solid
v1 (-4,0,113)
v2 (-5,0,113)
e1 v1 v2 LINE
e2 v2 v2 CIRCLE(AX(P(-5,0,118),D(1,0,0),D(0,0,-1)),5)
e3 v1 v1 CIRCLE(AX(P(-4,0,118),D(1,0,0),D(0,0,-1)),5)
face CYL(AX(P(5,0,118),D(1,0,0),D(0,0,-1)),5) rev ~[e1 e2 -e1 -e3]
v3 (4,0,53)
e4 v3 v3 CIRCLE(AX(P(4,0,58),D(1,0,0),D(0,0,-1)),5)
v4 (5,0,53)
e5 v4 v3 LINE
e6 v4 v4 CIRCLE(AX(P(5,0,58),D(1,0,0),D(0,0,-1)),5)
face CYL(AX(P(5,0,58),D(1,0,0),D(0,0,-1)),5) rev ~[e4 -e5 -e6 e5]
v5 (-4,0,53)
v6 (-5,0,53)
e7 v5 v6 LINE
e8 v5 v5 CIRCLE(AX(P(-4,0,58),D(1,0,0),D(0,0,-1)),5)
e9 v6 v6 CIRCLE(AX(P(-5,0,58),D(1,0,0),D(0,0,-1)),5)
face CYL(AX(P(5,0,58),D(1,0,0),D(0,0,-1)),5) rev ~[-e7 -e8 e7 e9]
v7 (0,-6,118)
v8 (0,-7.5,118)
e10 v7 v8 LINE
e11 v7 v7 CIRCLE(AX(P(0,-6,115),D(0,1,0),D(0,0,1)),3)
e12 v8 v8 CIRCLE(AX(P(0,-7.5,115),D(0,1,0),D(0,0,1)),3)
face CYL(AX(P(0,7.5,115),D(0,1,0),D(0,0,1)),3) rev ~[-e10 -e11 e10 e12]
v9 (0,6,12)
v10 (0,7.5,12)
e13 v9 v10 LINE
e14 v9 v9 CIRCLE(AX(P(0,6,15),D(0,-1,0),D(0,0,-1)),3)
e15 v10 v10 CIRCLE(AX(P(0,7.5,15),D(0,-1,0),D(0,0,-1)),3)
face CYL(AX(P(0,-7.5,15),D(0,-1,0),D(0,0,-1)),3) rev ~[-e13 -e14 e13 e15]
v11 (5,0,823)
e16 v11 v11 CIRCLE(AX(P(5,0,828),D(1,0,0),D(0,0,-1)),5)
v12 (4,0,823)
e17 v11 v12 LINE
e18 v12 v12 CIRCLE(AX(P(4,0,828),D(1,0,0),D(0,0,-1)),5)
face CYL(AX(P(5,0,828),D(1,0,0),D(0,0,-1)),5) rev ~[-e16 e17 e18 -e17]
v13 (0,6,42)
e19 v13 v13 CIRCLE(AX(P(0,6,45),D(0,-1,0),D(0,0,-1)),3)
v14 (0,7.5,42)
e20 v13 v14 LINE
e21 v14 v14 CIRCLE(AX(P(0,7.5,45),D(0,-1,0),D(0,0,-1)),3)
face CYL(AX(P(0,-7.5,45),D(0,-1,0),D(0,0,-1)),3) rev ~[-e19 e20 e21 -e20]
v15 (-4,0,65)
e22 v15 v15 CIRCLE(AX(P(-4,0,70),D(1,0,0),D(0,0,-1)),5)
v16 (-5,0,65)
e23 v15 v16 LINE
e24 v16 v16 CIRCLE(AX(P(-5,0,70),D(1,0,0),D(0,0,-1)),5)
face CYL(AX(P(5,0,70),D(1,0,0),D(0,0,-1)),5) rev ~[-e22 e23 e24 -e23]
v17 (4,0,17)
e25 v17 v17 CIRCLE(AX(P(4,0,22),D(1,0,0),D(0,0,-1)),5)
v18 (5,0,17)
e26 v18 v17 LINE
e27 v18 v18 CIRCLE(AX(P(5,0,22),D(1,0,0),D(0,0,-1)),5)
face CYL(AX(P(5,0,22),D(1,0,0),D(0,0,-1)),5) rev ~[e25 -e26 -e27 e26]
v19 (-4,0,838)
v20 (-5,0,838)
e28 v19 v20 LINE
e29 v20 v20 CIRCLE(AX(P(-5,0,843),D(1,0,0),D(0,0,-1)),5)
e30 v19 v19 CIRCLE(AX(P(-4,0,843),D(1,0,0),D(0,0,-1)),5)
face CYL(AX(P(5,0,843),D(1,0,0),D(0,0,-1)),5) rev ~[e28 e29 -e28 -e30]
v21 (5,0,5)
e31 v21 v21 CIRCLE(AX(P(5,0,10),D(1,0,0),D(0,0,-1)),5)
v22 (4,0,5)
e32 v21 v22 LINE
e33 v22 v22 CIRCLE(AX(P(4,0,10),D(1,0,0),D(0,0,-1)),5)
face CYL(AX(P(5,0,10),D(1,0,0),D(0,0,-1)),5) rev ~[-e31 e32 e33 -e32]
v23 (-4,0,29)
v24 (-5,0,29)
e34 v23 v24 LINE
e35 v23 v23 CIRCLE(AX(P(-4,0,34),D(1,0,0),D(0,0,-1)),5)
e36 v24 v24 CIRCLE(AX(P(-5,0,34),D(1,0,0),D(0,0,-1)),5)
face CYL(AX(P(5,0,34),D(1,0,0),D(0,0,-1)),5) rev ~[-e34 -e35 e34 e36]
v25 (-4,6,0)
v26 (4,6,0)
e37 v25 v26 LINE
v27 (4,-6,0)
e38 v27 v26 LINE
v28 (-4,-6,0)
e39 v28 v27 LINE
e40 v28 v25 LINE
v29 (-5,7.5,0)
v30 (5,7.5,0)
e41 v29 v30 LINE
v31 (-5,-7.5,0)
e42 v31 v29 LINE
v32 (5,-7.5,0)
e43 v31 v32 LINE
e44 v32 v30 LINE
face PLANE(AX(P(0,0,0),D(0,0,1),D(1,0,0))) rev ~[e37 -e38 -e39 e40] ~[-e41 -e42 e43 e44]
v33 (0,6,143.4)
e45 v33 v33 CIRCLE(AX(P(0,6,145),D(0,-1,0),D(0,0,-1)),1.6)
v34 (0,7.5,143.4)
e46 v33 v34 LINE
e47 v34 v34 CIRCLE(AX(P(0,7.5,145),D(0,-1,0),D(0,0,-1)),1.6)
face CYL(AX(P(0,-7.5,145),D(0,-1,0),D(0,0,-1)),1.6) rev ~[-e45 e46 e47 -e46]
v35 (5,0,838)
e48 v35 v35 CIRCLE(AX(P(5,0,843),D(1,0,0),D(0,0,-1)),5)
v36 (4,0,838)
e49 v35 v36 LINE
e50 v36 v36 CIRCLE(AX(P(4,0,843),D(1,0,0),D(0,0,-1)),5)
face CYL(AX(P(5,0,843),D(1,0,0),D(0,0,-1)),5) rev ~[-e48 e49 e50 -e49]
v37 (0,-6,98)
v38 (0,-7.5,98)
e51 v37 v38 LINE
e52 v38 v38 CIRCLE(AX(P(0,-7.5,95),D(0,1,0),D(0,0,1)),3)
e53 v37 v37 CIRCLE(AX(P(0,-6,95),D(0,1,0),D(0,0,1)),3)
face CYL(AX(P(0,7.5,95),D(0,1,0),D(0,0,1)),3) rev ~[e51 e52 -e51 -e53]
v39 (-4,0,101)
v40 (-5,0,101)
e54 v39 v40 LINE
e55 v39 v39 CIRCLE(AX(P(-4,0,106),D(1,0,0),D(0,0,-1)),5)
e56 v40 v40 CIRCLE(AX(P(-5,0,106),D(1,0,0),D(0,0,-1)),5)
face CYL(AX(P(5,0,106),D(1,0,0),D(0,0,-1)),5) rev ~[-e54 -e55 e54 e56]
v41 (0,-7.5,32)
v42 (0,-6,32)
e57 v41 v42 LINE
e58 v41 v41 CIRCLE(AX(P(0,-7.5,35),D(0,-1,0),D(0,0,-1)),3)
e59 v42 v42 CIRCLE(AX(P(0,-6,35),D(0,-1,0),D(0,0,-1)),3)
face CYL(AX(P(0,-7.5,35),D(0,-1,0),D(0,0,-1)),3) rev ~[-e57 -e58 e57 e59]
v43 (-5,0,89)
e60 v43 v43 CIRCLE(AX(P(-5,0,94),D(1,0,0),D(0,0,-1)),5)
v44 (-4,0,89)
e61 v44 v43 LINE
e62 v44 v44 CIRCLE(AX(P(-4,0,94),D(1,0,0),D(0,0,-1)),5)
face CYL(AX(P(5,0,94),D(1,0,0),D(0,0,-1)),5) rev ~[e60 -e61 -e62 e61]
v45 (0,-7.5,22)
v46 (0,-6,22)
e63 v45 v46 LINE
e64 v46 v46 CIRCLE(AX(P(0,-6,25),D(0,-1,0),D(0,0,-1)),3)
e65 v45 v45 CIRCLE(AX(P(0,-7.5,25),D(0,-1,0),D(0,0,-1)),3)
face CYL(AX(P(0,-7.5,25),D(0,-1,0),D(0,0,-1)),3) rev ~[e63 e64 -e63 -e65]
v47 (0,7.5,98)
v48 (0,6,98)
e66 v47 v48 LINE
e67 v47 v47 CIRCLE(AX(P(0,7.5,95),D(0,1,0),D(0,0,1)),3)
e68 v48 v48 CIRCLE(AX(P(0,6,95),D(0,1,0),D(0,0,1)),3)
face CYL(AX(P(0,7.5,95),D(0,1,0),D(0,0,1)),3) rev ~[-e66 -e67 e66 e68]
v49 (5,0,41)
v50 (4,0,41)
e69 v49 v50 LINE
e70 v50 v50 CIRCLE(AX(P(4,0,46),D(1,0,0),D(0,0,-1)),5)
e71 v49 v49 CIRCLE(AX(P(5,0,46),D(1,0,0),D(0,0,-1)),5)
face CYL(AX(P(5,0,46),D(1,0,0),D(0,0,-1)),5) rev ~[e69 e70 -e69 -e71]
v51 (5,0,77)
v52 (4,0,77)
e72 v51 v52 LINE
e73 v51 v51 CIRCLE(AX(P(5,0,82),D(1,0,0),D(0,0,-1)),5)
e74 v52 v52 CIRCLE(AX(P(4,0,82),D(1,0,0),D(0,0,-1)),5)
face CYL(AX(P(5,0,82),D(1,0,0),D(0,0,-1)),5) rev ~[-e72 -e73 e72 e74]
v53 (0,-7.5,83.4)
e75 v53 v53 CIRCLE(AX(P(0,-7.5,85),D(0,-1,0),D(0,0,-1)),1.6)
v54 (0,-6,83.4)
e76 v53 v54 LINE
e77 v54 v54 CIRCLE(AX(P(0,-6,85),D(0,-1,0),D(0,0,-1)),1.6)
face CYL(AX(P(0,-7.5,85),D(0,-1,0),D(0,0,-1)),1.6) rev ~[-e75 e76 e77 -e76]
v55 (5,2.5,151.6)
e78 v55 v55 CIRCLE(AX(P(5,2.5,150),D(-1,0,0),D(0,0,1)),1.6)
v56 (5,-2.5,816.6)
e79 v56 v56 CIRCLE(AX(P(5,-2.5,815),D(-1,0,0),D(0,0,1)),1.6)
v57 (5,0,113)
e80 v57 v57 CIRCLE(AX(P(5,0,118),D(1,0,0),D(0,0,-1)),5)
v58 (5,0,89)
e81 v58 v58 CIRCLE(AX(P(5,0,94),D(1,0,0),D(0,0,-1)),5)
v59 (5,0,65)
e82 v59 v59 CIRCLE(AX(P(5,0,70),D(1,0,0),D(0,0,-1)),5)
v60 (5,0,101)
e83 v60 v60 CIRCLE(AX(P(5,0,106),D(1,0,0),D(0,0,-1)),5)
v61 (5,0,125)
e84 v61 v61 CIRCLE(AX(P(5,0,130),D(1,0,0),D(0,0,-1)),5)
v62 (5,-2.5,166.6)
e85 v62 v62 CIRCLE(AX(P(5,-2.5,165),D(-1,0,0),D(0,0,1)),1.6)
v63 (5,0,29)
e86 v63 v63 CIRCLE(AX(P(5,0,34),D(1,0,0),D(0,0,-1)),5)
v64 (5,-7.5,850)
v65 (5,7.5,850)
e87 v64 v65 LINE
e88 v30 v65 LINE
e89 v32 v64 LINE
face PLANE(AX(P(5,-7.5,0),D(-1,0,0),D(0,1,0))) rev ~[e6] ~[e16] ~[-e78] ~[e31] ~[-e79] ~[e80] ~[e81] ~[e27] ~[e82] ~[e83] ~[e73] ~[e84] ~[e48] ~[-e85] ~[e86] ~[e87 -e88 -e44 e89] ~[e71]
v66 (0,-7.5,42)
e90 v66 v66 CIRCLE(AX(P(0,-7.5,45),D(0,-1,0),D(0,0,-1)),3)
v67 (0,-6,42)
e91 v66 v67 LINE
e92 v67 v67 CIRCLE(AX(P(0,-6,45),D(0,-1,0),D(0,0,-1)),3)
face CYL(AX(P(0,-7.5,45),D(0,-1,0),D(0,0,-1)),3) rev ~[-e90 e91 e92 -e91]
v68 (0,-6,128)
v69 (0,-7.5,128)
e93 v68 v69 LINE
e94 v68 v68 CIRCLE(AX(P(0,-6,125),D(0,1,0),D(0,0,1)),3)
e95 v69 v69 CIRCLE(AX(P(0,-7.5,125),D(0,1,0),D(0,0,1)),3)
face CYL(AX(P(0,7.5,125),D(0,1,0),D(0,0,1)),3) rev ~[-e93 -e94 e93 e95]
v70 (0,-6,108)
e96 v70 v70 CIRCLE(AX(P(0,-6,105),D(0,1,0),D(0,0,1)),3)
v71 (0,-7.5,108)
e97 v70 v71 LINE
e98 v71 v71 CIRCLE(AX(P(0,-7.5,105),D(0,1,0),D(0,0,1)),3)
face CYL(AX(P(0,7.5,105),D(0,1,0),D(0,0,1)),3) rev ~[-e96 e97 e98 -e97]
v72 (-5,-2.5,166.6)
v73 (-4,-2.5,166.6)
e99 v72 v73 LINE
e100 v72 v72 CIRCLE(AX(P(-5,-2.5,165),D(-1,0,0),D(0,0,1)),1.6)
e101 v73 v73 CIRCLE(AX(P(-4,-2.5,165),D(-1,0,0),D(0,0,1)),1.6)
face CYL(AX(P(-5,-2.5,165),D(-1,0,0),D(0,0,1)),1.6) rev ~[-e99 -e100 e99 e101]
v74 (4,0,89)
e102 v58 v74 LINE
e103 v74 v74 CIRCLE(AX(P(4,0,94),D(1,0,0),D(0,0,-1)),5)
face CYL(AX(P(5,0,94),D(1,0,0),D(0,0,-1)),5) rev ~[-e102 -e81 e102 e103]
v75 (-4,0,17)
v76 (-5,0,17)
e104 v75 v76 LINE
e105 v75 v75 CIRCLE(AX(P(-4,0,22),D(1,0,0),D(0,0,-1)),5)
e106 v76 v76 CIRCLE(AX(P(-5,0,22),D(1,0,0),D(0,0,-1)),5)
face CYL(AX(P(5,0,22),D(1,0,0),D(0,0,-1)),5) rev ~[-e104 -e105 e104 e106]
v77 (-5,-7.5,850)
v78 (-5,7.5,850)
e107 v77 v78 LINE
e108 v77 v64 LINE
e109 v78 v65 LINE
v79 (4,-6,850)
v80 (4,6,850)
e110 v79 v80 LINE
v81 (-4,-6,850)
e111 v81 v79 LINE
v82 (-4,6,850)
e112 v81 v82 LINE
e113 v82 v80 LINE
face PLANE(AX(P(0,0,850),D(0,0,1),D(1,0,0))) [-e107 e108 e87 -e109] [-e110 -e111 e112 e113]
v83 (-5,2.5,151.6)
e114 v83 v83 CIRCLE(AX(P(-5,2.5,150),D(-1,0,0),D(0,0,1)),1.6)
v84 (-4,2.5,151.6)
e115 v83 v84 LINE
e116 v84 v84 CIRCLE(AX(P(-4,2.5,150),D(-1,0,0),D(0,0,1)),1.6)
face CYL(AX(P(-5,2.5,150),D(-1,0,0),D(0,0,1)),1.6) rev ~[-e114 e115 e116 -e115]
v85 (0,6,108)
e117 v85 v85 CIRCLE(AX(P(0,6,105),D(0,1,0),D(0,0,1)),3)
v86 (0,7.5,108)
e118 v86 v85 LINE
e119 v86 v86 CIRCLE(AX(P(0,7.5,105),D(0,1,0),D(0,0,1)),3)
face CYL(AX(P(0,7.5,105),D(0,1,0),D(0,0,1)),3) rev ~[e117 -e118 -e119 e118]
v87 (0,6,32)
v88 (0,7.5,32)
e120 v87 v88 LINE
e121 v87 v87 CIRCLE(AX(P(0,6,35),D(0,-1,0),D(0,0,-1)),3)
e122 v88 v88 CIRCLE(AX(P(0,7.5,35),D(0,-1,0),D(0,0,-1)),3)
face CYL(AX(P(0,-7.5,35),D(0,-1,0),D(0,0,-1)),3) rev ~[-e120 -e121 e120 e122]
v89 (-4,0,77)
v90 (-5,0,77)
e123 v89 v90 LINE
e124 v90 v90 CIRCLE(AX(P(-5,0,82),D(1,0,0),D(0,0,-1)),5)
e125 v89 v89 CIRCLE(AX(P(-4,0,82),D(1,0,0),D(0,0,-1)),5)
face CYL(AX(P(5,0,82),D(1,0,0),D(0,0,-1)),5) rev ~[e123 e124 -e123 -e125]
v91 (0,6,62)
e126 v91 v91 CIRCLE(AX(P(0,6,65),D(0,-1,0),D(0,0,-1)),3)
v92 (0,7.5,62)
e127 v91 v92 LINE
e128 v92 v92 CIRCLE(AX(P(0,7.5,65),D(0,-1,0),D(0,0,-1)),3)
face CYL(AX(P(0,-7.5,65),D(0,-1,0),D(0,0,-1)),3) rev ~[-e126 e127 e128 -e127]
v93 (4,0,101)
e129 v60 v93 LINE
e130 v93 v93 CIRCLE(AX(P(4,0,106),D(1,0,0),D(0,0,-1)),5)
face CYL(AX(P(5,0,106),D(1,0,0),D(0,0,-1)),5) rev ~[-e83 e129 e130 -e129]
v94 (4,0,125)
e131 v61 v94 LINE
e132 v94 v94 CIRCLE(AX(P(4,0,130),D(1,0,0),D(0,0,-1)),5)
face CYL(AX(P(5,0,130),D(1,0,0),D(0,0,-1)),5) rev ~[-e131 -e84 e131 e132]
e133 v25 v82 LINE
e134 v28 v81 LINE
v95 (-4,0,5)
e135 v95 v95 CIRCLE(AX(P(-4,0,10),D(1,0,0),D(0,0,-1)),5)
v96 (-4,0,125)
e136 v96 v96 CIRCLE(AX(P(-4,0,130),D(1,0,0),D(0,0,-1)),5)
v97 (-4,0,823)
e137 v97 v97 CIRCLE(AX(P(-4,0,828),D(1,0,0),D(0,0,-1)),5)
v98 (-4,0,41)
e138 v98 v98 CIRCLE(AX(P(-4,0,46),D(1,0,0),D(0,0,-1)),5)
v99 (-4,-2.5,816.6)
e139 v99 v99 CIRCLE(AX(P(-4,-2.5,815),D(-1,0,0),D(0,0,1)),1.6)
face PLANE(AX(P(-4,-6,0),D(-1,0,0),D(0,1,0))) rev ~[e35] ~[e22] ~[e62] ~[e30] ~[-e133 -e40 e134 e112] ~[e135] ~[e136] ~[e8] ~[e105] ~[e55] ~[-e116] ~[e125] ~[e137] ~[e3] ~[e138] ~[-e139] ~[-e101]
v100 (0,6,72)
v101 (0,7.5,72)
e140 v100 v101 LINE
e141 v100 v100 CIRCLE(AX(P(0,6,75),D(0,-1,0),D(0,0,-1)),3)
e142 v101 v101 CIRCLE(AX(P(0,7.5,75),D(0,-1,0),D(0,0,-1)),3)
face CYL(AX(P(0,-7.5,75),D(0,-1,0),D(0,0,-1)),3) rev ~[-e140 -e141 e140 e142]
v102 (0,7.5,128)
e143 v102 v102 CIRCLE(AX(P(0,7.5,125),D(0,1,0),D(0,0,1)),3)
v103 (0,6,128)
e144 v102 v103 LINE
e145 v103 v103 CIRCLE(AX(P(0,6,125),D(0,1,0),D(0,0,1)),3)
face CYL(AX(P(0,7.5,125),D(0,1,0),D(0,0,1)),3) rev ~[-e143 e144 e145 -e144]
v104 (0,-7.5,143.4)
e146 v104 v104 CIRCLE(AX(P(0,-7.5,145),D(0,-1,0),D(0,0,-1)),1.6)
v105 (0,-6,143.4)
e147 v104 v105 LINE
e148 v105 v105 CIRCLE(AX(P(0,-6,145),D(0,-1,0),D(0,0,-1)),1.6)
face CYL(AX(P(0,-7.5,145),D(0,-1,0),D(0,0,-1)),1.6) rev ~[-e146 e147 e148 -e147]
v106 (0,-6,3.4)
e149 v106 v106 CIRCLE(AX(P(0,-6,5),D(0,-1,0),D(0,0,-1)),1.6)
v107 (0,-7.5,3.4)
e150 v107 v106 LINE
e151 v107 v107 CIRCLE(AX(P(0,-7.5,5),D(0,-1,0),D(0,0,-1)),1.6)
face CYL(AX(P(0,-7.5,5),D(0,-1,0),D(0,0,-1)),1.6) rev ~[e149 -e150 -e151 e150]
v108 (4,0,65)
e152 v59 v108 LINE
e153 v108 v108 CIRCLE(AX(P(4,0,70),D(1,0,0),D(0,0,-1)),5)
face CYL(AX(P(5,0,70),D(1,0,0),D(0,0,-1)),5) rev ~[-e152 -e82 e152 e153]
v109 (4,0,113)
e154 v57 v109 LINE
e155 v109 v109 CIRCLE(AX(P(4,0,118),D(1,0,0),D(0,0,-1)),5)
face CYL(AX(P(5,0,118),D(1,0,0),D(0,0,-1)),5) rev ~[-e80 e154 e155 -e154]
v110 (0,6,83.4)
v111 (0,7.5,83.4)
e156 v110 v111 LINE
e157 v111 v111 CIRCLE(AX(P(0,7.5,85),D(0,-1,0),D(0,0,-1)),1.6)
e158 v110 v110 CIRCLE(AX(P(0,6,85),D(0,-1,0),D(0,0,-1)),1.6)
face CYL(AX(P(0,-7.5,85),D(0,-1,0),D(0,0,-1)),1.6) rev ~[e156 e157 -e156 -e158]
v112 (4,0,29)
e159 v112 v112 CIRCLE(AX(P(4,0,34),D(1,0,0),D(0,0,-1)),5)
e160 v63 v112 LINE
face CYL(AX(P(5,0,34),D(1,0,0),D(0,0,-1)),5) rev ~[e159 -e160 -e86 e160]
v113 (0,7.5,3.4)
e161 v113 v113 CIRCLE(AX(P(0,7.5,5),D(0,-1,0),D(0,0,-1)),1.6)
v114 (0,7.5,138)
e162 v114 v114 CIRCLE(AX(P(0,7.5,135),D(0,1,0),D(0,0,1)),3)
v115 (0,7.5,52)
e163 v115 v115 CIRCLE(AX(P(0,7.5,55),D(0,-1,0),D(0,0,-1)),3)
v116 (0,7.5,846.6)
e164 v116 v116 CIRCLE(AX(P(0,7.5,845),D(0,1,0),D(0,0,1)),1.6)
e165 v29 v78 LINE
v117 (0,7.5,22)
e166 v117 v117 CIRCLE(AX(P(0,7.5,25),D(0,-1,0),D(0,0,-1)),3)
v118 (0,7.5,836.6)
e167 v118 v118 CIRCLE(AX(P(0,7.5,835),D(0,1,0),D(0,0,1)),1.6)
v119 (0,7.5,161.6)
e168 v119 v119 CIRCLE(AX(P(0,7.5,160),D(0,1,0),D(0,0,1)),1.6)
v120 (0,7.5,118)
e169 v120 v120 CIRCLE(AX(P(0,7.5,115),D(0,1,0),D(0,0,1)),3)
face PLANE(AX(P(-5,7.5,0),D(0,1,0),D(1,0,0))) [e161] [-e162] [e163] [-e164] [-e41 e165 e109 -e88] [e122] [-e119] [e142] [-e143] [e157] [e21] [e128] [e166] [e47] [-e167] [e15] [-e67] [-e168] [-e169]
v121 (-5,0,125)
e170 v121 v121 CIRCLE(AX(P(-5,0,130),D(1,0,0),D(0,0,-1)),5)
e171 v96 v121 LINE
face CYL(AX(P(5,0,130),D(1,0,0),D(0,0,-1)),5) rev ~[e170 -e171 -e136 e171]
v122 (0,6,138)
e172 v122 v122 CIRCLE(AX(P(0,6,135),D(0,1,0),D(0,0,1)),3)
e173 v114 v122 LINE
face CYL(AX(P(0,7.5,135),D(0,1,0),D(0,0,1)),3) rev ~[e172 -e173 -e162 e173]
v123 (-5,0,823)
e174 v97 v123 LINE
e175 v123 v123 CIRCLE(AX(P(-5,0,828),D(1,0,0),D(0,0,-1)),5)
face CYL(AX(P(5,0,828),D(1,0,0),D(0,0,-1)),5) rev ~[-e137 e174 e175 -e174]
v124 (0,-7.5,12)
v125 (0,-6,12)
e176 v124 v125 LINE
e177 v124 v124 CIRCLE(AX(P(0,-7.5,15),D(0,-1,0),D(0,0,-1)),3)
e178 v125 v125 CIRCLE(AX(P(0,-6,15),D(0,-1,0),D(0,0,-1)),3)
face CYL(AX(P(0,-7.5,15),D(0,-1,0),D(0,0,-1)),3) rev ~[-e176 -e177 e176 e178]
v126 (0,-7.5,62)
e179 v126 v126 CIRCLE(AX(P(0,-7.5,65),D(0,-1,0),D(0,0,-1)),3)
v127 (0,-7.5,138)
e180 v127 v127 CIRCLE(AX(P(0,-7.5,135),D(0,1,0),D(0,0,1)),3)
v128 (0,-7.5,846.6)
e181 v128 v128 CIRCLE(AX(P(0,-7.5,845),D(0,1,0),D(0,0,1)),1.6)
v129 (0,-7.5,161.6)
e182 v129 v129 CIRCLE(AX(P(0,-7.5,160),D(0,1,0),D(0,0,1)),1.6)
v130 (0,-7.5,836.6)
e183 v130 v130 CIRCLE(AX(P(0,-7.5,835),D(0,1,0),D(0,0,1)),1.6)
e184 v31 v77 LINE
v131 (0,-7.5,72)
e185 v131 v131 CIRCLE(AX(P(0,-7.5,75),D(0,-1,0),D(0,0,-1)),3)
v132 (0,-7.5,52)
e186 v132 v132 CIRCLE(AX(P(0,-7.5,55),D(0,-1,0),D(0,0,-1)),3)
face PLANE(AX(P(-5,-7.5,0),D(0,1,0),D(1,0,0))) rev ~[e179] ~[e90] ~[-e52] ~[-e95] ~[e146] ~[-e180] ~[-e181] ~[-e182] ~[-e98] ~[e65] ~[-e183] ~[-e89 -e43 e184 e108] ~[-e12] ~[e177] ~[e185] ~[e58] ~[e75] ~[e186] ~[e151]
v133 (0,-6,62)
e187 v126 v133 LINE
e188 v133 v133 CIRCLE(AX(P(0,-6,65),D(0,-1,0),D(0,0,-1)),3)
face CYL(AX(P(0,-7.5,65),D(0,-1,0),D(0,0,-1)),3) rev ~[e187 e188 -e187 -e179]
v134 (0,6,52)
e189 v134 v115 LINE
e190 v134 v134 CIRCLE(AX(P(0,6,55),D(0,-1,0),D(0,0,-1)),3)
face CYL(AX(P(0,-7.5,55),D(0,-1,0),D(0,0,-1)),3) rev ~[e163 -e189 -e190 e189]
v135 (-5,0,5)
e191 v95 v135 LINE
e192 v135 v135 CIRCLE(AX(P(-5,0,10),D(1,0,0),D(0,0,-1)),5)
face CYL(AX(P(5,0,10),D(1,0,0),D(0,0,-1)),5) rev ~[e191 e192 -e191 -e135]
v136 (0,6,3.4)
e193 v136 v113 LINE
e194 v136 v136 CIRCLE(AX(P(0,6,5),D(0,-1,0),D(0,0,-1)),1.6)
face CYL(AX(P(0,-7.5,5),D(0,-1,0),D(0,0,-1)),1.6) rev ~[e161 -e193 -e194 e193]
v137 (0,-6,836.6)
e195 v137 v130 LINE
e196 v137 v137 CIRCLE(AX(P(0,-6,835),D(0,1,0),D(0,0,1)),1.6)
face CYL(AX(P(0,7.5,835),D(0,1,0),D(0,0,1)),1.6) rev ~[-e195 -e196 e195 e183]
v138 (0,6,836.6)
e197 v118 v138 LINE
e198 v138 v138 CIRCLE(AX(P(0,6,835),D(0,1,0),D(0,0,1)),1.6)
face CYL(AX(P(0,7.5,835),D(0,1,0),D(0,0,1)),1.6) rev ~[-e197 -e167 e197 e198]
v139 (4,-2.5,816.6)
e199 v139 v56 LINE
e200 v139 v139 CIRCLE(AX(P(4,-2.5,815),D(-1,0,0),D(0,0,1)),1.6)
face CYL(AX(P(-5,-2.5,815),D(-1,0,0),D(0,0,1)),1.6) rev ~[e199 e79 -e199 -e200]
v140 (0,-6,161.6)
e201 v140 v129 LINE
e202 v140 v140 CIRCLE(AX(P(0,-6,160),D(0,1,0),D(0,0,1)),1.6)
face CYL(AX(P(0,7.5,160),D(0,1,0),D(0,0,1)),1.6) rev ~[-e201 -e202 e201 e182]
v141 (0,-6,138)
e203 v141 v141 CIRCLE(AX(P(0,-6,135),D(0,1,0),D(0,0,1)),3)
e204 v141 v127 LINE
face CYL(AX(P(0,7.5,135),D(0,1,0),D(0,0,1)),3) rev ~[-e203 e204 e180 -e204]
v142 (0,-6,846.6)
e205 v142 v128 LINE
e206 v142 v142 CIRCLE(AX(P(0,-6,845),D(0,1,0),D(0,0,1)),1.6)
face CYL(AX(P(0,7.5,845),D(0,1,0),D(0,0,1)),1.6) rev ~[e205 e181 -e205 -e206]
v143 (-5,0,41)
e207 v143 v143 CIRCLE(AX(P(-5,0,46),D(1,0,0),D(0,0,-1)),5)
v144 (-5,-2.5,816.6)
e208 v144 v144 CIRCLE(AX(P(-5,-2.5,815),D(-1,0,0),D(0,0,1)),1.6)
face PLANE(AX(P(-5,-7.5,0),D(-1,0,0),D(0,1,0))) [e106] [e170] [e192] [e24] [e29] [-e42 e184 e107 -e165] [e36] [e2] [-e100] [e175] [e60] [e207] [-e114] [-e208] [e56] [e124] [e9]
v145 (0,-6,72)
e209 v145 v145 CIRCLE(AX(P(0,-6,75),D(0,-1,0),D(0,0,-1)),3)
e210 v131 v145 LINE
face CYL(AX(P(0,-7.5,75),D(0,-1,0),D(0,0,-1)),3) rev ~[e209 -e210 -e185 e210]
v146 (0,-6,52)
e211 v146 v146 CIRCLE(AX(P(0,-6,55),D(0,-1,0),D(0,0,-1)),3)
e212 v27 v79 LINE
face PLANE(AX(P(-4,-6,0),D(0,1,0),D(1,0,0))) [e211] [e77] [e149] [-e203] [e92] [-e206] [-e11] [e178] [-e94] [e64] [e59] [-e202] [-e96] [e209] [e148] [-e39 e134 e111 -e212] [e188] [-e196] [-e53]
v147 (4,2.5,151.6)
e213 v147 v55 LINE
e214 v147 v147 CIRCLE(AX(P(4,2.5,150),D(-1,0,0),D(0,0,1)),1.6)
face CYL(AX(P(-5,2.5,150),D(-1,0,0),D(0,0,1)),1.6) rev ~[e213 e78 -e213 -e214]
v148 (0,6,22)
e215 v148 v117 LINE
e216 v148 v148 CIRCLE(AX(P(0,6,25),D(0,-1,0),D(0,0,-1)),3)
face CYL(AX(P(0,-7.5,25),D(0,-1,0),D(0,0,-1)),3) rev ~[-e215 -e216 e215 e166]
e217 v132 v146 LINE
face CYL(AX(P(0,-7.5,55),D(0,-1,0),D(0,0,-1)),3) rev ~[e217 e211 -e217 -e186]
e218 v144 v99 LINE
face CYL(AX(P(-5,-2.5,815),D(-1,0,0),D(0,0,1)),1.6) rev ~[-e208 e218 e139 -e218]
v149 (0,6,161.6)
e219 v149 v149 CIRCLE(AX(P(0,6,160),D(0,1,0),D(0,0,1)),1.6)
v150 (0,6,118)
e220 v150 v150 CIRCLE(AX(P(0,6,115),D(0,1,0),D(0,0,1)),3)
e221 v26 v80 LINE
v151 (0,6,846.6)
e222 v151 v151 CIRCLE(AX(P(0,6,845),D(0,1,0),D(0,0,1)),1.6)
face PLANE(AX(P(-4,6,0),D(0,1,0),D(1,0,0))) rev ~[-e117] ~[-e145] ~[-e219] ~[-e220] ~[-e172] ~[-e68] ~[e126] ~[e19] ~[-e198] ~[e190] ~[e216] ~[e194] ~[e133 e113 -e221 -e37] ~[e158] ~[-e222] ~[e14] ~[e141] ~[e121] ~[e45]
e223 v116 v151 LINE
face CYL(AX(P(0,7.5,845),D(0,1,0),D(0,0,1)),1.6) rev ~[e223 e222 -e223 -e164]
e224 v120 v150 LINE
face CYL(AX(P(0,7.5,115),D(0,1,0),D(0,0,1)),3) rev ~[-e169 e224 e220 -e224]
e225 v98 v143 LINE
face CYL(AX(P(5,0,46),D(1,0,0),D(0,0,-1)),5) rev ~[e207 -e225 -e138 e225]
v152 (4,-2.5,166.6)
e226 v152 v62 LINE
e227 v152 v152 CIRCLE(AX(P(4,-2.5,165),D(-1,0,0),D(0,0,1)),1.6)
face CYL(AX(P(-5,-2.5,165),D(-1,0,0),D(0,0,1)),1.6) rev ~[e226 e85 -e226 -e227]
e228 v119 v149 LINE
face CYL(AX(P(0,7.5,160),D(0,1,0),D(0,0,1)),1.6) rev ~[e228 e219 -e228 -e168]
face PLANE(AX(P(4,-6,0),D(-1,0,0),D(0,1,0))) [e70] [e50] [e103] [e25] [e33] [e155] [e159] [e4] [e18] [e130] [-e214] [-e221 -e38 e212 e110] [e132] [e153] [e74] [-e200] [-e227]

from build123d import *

# Parameters (mm, degrees)
SKETCH_1_W             = 10
SKETCH_1_H             = 15
SKETCH_1_W_2           = 8
SKETCH_1_H_2           = 12
EXTRUDE_1_DEPTH        = 850
SKETCH_2_R             = 1.6
CUT_EXTRUDE_1_DEPTH    = 851.091906796
SKETCH_3_R             = 5
CUT_EXTRUDE_2_DEPTH    = 851.091906796
SKETCH_4_R             = 1.6
CUT_EXTRUDE_3_DEPTH    = 851.147046104
SKETCH_7_R             = 1.6
CUT_EXTRUDE_6_DEPTH    = 851.147046104
SKETCH_8_R             = 5
CUT_EXTRUDE_7_DEPTH    = 851.091906796
PATTERN_LINEAR_1_COUNT = 11
PATTERN_LINEAR_1_PITCH = 12
SKETCH_9_R             = 1.6
CUT_EXTRUDE_8_DEPTH    = 851.147046104
PATTERN_LINEAR_2_COUNT = 2
PATTERN_LINEAR_2_PITCH = 15
SKETCH_10_R            = 3
CUT_EXTRUDE_9_DEPTH    = 851.147046104
PATTERN_LINEAR_3_COUNT = 7
PATTERN_LINEAR_3_PITCH = 10
SKETCH_11_R            = 3
CUT_EXTRUDE_10_DEPTH   = 851.147046104
PATTERN_LINEAR_4_COUNT = 5
PATTERN_LINEAR_4_PITCH = 10


with BuildPart() as part:
    # ｽｹｯﾁ1 → ﾎﾞｽ - 押し出し1 (new body)
    with BuildSketch(Plane.XY):
        Rectangle(SKETCH_1_W, SKETCH_1_H)
        Rectangle(SKETCH_1_W_2, SKETCH_1_H_2, mode=Mode.SUBTRACT)
    extrude(amount=EXTRUDE_1_DEPTH)

    # ｽｹｯﾁ2 → ｶｯﾄ - 押し出し1 (cut, through all)
    with BuildSketch(Plane.ZY.offset(5)):
        with Locations((165, -2.5)):
            Circle(SKETCH_2_R)
        with Locations((815, -2.5)):
            Circle(SKETCH_2_R)
        with Locations((150, 2.5)):
            Circle(SKETCH_2_R)
    extrude(amount=-CUT_EXTRUDE_1_DEPTH, mode=Mode.SUBTRACT)

    # ｽｹｯﾁ3 → ｶｯﾄ - 押し出し2 (cut, through all)
    with BuildSketch(Plane(origin=(5, 0, 0), x_dir=(0, 0, -1), z_dir=(1, 0, 0))):
        with Locations((-843, 0)):
            Circle(SKETCH_3_R)
    cut_extrude_2 = extrude(amount=-CUT_EXTRUDE_2_DEPTH, mode=Mode.SUBTRACT)

    # ｽｹｯﾁ4 → ｶｯﾄ - 押し出し3 (cut, through all)
    with BuildSketch(Plane(origin=(0, 7.5, 0), x_dir=(1, 0, 0), z_dir=(0, 1, 0))):
        with Locations(Location((0, -845, 0), (0, 0, 270))):
            Circle(SKETCH_4_R)
        with Locations(Location((0, -835, 0), (0, 0, 270))):
            Circle(SKETCH_4_R)
    extrude(amount=-CUT_EXTRUDE_3_DEPTH, mode=Mode.SUBTRACT)

    # ｽｹｯﾁ7 → ｶｯﾄ - 押し出し6 (cut, through all)
    with BuildSketch(Plane(origin=(0, -7.5, 0), x_dir=(-1, 0, 0), z_dir=(0, -1, 0))):
        with Locations(Location((0, -5, 0), (0, 0, 90))):
            Circle(SKETCH_7_R)
        with Locations(Location((0, -85, 0), (0, 0, 90))):
            Circle(SKETCH_7_R)
        with Locations(Location((0, -145, 0), (0, 0, 90))):
            Circle(SKETCH_7_R)
    extrude(amount=-CUT_EXTRUDE_6_DEPTH, mode=Mode.SUBTRACT)

    # ｽｹｯﾁ8 → ｶｯﾄ - 押し出し7 (cut, through all)
    with BuildSketch(Plane(origin=(5, 0, 0), x_dir=(0, 0, -1), z_dir=(1, 0, 0))):
        with Locations((-10, 0)):
            Circle(SKETCH_8_R)
    cut_extrude_7 = extrude(amount=-CUT_EXTRUDE_7_DEPTH, mode=Mode.SUBTRACT)

    # 直線ﾊﾟﾀｰﾝ1: ｶｯﾄ - 押し出し7 ×11
    with Locations(*[(0, 0, i * PATTERN_LINEAR_1_PITCH) for i in range(1, PATTERN_LINEAR_1_COUNT)]):
        add(cut_extrude_7, mode=Mode.SUBTRACT)

    # ｽｹｯﾁ9 → ｶｯﾄ - 押し出し8 (cut, through all)
    with BuildSketch(Plane(origin=(0, 7.5, 0), x_dir=(1, 0, 0), z_dir=(0, 1, 0))):
        with Locations(Location((0, -160, 0), (0, 0, 270))):
            Circle(SKETCH_9_R)
    extrude(amount=-CUT_EXTRUDE_8_DEPTH, mode=Mode.SUBTRACT)

    # 直線ﾊﾟﾀｰﾝ2: ｶｯﾄ - 押し出し2 ×2
    with Locations(*[(0, 0, -i * PATTERN_LINEAR_2_PITCH) for i in range(1, PATTERN_LINEAR_2_COUNT)]):
        add(cut_extrude_2, mode=Mode.SUBTRACT)

    # ｽｹｯﾁ10 → ｶｯﾄ - 押し出し9 (cut, through all)
    with BuildSketch(Plane(origin=(0, -7.5, 0), x_dir=(-1, 0, 0), z_dir=(0, -1, 0))):
        with Locations(Location((0, -15, 0), (0, 0, 90))):
            Circle(SKETCH_10_R)
    cut_extrude_9 = extrude(amount=-CUT_EXTRUDE_9_DEPTH, mode=Mode.SUBTRACT)

    # 直線ﾊﾟﾀｰﾝ3: ｶｯﾄ - 押し出し9 ×7
    with Locations(*[(0, 0, i * PATTERN_LINEAR_3_PITCH) for i in range(1, PATTERN_LINEAR_3_COUNT)]):
        add(cut_extrude_9, mode=Mode.SUBTRACT)

    # ｽｹｯﾁ11 → ｶｯﾄ - 押し出し10 (cut, through all)
    with BuildSketch(Plane(origin=(0, 7.5, 0), x_dir=(1, 0, 0), z_dir=(0, 1, 0))):
        with Locations(Location((0, -95, 0), (0, 0, 270))):
            Circle(SKETCH_11_R)
    cut_extrude_10 = extrude(amount=-CUT_EXTRUDE_10_DEPTH, mode=Mode.SUBTRACT)

    # 直線ﾊﾟﾀｰﾝ4: ｶｯﾄ - 押し出し10 ×5
    with Locations(*[(0, 0, i * PATTERN_LINEAR_4_PITCH) for i in range(1, PATTERN_LINEAR_4_COUNT)]):
        add(cut_extrude_10, mode=Mode.SUBTRACT)


solid = part.part
